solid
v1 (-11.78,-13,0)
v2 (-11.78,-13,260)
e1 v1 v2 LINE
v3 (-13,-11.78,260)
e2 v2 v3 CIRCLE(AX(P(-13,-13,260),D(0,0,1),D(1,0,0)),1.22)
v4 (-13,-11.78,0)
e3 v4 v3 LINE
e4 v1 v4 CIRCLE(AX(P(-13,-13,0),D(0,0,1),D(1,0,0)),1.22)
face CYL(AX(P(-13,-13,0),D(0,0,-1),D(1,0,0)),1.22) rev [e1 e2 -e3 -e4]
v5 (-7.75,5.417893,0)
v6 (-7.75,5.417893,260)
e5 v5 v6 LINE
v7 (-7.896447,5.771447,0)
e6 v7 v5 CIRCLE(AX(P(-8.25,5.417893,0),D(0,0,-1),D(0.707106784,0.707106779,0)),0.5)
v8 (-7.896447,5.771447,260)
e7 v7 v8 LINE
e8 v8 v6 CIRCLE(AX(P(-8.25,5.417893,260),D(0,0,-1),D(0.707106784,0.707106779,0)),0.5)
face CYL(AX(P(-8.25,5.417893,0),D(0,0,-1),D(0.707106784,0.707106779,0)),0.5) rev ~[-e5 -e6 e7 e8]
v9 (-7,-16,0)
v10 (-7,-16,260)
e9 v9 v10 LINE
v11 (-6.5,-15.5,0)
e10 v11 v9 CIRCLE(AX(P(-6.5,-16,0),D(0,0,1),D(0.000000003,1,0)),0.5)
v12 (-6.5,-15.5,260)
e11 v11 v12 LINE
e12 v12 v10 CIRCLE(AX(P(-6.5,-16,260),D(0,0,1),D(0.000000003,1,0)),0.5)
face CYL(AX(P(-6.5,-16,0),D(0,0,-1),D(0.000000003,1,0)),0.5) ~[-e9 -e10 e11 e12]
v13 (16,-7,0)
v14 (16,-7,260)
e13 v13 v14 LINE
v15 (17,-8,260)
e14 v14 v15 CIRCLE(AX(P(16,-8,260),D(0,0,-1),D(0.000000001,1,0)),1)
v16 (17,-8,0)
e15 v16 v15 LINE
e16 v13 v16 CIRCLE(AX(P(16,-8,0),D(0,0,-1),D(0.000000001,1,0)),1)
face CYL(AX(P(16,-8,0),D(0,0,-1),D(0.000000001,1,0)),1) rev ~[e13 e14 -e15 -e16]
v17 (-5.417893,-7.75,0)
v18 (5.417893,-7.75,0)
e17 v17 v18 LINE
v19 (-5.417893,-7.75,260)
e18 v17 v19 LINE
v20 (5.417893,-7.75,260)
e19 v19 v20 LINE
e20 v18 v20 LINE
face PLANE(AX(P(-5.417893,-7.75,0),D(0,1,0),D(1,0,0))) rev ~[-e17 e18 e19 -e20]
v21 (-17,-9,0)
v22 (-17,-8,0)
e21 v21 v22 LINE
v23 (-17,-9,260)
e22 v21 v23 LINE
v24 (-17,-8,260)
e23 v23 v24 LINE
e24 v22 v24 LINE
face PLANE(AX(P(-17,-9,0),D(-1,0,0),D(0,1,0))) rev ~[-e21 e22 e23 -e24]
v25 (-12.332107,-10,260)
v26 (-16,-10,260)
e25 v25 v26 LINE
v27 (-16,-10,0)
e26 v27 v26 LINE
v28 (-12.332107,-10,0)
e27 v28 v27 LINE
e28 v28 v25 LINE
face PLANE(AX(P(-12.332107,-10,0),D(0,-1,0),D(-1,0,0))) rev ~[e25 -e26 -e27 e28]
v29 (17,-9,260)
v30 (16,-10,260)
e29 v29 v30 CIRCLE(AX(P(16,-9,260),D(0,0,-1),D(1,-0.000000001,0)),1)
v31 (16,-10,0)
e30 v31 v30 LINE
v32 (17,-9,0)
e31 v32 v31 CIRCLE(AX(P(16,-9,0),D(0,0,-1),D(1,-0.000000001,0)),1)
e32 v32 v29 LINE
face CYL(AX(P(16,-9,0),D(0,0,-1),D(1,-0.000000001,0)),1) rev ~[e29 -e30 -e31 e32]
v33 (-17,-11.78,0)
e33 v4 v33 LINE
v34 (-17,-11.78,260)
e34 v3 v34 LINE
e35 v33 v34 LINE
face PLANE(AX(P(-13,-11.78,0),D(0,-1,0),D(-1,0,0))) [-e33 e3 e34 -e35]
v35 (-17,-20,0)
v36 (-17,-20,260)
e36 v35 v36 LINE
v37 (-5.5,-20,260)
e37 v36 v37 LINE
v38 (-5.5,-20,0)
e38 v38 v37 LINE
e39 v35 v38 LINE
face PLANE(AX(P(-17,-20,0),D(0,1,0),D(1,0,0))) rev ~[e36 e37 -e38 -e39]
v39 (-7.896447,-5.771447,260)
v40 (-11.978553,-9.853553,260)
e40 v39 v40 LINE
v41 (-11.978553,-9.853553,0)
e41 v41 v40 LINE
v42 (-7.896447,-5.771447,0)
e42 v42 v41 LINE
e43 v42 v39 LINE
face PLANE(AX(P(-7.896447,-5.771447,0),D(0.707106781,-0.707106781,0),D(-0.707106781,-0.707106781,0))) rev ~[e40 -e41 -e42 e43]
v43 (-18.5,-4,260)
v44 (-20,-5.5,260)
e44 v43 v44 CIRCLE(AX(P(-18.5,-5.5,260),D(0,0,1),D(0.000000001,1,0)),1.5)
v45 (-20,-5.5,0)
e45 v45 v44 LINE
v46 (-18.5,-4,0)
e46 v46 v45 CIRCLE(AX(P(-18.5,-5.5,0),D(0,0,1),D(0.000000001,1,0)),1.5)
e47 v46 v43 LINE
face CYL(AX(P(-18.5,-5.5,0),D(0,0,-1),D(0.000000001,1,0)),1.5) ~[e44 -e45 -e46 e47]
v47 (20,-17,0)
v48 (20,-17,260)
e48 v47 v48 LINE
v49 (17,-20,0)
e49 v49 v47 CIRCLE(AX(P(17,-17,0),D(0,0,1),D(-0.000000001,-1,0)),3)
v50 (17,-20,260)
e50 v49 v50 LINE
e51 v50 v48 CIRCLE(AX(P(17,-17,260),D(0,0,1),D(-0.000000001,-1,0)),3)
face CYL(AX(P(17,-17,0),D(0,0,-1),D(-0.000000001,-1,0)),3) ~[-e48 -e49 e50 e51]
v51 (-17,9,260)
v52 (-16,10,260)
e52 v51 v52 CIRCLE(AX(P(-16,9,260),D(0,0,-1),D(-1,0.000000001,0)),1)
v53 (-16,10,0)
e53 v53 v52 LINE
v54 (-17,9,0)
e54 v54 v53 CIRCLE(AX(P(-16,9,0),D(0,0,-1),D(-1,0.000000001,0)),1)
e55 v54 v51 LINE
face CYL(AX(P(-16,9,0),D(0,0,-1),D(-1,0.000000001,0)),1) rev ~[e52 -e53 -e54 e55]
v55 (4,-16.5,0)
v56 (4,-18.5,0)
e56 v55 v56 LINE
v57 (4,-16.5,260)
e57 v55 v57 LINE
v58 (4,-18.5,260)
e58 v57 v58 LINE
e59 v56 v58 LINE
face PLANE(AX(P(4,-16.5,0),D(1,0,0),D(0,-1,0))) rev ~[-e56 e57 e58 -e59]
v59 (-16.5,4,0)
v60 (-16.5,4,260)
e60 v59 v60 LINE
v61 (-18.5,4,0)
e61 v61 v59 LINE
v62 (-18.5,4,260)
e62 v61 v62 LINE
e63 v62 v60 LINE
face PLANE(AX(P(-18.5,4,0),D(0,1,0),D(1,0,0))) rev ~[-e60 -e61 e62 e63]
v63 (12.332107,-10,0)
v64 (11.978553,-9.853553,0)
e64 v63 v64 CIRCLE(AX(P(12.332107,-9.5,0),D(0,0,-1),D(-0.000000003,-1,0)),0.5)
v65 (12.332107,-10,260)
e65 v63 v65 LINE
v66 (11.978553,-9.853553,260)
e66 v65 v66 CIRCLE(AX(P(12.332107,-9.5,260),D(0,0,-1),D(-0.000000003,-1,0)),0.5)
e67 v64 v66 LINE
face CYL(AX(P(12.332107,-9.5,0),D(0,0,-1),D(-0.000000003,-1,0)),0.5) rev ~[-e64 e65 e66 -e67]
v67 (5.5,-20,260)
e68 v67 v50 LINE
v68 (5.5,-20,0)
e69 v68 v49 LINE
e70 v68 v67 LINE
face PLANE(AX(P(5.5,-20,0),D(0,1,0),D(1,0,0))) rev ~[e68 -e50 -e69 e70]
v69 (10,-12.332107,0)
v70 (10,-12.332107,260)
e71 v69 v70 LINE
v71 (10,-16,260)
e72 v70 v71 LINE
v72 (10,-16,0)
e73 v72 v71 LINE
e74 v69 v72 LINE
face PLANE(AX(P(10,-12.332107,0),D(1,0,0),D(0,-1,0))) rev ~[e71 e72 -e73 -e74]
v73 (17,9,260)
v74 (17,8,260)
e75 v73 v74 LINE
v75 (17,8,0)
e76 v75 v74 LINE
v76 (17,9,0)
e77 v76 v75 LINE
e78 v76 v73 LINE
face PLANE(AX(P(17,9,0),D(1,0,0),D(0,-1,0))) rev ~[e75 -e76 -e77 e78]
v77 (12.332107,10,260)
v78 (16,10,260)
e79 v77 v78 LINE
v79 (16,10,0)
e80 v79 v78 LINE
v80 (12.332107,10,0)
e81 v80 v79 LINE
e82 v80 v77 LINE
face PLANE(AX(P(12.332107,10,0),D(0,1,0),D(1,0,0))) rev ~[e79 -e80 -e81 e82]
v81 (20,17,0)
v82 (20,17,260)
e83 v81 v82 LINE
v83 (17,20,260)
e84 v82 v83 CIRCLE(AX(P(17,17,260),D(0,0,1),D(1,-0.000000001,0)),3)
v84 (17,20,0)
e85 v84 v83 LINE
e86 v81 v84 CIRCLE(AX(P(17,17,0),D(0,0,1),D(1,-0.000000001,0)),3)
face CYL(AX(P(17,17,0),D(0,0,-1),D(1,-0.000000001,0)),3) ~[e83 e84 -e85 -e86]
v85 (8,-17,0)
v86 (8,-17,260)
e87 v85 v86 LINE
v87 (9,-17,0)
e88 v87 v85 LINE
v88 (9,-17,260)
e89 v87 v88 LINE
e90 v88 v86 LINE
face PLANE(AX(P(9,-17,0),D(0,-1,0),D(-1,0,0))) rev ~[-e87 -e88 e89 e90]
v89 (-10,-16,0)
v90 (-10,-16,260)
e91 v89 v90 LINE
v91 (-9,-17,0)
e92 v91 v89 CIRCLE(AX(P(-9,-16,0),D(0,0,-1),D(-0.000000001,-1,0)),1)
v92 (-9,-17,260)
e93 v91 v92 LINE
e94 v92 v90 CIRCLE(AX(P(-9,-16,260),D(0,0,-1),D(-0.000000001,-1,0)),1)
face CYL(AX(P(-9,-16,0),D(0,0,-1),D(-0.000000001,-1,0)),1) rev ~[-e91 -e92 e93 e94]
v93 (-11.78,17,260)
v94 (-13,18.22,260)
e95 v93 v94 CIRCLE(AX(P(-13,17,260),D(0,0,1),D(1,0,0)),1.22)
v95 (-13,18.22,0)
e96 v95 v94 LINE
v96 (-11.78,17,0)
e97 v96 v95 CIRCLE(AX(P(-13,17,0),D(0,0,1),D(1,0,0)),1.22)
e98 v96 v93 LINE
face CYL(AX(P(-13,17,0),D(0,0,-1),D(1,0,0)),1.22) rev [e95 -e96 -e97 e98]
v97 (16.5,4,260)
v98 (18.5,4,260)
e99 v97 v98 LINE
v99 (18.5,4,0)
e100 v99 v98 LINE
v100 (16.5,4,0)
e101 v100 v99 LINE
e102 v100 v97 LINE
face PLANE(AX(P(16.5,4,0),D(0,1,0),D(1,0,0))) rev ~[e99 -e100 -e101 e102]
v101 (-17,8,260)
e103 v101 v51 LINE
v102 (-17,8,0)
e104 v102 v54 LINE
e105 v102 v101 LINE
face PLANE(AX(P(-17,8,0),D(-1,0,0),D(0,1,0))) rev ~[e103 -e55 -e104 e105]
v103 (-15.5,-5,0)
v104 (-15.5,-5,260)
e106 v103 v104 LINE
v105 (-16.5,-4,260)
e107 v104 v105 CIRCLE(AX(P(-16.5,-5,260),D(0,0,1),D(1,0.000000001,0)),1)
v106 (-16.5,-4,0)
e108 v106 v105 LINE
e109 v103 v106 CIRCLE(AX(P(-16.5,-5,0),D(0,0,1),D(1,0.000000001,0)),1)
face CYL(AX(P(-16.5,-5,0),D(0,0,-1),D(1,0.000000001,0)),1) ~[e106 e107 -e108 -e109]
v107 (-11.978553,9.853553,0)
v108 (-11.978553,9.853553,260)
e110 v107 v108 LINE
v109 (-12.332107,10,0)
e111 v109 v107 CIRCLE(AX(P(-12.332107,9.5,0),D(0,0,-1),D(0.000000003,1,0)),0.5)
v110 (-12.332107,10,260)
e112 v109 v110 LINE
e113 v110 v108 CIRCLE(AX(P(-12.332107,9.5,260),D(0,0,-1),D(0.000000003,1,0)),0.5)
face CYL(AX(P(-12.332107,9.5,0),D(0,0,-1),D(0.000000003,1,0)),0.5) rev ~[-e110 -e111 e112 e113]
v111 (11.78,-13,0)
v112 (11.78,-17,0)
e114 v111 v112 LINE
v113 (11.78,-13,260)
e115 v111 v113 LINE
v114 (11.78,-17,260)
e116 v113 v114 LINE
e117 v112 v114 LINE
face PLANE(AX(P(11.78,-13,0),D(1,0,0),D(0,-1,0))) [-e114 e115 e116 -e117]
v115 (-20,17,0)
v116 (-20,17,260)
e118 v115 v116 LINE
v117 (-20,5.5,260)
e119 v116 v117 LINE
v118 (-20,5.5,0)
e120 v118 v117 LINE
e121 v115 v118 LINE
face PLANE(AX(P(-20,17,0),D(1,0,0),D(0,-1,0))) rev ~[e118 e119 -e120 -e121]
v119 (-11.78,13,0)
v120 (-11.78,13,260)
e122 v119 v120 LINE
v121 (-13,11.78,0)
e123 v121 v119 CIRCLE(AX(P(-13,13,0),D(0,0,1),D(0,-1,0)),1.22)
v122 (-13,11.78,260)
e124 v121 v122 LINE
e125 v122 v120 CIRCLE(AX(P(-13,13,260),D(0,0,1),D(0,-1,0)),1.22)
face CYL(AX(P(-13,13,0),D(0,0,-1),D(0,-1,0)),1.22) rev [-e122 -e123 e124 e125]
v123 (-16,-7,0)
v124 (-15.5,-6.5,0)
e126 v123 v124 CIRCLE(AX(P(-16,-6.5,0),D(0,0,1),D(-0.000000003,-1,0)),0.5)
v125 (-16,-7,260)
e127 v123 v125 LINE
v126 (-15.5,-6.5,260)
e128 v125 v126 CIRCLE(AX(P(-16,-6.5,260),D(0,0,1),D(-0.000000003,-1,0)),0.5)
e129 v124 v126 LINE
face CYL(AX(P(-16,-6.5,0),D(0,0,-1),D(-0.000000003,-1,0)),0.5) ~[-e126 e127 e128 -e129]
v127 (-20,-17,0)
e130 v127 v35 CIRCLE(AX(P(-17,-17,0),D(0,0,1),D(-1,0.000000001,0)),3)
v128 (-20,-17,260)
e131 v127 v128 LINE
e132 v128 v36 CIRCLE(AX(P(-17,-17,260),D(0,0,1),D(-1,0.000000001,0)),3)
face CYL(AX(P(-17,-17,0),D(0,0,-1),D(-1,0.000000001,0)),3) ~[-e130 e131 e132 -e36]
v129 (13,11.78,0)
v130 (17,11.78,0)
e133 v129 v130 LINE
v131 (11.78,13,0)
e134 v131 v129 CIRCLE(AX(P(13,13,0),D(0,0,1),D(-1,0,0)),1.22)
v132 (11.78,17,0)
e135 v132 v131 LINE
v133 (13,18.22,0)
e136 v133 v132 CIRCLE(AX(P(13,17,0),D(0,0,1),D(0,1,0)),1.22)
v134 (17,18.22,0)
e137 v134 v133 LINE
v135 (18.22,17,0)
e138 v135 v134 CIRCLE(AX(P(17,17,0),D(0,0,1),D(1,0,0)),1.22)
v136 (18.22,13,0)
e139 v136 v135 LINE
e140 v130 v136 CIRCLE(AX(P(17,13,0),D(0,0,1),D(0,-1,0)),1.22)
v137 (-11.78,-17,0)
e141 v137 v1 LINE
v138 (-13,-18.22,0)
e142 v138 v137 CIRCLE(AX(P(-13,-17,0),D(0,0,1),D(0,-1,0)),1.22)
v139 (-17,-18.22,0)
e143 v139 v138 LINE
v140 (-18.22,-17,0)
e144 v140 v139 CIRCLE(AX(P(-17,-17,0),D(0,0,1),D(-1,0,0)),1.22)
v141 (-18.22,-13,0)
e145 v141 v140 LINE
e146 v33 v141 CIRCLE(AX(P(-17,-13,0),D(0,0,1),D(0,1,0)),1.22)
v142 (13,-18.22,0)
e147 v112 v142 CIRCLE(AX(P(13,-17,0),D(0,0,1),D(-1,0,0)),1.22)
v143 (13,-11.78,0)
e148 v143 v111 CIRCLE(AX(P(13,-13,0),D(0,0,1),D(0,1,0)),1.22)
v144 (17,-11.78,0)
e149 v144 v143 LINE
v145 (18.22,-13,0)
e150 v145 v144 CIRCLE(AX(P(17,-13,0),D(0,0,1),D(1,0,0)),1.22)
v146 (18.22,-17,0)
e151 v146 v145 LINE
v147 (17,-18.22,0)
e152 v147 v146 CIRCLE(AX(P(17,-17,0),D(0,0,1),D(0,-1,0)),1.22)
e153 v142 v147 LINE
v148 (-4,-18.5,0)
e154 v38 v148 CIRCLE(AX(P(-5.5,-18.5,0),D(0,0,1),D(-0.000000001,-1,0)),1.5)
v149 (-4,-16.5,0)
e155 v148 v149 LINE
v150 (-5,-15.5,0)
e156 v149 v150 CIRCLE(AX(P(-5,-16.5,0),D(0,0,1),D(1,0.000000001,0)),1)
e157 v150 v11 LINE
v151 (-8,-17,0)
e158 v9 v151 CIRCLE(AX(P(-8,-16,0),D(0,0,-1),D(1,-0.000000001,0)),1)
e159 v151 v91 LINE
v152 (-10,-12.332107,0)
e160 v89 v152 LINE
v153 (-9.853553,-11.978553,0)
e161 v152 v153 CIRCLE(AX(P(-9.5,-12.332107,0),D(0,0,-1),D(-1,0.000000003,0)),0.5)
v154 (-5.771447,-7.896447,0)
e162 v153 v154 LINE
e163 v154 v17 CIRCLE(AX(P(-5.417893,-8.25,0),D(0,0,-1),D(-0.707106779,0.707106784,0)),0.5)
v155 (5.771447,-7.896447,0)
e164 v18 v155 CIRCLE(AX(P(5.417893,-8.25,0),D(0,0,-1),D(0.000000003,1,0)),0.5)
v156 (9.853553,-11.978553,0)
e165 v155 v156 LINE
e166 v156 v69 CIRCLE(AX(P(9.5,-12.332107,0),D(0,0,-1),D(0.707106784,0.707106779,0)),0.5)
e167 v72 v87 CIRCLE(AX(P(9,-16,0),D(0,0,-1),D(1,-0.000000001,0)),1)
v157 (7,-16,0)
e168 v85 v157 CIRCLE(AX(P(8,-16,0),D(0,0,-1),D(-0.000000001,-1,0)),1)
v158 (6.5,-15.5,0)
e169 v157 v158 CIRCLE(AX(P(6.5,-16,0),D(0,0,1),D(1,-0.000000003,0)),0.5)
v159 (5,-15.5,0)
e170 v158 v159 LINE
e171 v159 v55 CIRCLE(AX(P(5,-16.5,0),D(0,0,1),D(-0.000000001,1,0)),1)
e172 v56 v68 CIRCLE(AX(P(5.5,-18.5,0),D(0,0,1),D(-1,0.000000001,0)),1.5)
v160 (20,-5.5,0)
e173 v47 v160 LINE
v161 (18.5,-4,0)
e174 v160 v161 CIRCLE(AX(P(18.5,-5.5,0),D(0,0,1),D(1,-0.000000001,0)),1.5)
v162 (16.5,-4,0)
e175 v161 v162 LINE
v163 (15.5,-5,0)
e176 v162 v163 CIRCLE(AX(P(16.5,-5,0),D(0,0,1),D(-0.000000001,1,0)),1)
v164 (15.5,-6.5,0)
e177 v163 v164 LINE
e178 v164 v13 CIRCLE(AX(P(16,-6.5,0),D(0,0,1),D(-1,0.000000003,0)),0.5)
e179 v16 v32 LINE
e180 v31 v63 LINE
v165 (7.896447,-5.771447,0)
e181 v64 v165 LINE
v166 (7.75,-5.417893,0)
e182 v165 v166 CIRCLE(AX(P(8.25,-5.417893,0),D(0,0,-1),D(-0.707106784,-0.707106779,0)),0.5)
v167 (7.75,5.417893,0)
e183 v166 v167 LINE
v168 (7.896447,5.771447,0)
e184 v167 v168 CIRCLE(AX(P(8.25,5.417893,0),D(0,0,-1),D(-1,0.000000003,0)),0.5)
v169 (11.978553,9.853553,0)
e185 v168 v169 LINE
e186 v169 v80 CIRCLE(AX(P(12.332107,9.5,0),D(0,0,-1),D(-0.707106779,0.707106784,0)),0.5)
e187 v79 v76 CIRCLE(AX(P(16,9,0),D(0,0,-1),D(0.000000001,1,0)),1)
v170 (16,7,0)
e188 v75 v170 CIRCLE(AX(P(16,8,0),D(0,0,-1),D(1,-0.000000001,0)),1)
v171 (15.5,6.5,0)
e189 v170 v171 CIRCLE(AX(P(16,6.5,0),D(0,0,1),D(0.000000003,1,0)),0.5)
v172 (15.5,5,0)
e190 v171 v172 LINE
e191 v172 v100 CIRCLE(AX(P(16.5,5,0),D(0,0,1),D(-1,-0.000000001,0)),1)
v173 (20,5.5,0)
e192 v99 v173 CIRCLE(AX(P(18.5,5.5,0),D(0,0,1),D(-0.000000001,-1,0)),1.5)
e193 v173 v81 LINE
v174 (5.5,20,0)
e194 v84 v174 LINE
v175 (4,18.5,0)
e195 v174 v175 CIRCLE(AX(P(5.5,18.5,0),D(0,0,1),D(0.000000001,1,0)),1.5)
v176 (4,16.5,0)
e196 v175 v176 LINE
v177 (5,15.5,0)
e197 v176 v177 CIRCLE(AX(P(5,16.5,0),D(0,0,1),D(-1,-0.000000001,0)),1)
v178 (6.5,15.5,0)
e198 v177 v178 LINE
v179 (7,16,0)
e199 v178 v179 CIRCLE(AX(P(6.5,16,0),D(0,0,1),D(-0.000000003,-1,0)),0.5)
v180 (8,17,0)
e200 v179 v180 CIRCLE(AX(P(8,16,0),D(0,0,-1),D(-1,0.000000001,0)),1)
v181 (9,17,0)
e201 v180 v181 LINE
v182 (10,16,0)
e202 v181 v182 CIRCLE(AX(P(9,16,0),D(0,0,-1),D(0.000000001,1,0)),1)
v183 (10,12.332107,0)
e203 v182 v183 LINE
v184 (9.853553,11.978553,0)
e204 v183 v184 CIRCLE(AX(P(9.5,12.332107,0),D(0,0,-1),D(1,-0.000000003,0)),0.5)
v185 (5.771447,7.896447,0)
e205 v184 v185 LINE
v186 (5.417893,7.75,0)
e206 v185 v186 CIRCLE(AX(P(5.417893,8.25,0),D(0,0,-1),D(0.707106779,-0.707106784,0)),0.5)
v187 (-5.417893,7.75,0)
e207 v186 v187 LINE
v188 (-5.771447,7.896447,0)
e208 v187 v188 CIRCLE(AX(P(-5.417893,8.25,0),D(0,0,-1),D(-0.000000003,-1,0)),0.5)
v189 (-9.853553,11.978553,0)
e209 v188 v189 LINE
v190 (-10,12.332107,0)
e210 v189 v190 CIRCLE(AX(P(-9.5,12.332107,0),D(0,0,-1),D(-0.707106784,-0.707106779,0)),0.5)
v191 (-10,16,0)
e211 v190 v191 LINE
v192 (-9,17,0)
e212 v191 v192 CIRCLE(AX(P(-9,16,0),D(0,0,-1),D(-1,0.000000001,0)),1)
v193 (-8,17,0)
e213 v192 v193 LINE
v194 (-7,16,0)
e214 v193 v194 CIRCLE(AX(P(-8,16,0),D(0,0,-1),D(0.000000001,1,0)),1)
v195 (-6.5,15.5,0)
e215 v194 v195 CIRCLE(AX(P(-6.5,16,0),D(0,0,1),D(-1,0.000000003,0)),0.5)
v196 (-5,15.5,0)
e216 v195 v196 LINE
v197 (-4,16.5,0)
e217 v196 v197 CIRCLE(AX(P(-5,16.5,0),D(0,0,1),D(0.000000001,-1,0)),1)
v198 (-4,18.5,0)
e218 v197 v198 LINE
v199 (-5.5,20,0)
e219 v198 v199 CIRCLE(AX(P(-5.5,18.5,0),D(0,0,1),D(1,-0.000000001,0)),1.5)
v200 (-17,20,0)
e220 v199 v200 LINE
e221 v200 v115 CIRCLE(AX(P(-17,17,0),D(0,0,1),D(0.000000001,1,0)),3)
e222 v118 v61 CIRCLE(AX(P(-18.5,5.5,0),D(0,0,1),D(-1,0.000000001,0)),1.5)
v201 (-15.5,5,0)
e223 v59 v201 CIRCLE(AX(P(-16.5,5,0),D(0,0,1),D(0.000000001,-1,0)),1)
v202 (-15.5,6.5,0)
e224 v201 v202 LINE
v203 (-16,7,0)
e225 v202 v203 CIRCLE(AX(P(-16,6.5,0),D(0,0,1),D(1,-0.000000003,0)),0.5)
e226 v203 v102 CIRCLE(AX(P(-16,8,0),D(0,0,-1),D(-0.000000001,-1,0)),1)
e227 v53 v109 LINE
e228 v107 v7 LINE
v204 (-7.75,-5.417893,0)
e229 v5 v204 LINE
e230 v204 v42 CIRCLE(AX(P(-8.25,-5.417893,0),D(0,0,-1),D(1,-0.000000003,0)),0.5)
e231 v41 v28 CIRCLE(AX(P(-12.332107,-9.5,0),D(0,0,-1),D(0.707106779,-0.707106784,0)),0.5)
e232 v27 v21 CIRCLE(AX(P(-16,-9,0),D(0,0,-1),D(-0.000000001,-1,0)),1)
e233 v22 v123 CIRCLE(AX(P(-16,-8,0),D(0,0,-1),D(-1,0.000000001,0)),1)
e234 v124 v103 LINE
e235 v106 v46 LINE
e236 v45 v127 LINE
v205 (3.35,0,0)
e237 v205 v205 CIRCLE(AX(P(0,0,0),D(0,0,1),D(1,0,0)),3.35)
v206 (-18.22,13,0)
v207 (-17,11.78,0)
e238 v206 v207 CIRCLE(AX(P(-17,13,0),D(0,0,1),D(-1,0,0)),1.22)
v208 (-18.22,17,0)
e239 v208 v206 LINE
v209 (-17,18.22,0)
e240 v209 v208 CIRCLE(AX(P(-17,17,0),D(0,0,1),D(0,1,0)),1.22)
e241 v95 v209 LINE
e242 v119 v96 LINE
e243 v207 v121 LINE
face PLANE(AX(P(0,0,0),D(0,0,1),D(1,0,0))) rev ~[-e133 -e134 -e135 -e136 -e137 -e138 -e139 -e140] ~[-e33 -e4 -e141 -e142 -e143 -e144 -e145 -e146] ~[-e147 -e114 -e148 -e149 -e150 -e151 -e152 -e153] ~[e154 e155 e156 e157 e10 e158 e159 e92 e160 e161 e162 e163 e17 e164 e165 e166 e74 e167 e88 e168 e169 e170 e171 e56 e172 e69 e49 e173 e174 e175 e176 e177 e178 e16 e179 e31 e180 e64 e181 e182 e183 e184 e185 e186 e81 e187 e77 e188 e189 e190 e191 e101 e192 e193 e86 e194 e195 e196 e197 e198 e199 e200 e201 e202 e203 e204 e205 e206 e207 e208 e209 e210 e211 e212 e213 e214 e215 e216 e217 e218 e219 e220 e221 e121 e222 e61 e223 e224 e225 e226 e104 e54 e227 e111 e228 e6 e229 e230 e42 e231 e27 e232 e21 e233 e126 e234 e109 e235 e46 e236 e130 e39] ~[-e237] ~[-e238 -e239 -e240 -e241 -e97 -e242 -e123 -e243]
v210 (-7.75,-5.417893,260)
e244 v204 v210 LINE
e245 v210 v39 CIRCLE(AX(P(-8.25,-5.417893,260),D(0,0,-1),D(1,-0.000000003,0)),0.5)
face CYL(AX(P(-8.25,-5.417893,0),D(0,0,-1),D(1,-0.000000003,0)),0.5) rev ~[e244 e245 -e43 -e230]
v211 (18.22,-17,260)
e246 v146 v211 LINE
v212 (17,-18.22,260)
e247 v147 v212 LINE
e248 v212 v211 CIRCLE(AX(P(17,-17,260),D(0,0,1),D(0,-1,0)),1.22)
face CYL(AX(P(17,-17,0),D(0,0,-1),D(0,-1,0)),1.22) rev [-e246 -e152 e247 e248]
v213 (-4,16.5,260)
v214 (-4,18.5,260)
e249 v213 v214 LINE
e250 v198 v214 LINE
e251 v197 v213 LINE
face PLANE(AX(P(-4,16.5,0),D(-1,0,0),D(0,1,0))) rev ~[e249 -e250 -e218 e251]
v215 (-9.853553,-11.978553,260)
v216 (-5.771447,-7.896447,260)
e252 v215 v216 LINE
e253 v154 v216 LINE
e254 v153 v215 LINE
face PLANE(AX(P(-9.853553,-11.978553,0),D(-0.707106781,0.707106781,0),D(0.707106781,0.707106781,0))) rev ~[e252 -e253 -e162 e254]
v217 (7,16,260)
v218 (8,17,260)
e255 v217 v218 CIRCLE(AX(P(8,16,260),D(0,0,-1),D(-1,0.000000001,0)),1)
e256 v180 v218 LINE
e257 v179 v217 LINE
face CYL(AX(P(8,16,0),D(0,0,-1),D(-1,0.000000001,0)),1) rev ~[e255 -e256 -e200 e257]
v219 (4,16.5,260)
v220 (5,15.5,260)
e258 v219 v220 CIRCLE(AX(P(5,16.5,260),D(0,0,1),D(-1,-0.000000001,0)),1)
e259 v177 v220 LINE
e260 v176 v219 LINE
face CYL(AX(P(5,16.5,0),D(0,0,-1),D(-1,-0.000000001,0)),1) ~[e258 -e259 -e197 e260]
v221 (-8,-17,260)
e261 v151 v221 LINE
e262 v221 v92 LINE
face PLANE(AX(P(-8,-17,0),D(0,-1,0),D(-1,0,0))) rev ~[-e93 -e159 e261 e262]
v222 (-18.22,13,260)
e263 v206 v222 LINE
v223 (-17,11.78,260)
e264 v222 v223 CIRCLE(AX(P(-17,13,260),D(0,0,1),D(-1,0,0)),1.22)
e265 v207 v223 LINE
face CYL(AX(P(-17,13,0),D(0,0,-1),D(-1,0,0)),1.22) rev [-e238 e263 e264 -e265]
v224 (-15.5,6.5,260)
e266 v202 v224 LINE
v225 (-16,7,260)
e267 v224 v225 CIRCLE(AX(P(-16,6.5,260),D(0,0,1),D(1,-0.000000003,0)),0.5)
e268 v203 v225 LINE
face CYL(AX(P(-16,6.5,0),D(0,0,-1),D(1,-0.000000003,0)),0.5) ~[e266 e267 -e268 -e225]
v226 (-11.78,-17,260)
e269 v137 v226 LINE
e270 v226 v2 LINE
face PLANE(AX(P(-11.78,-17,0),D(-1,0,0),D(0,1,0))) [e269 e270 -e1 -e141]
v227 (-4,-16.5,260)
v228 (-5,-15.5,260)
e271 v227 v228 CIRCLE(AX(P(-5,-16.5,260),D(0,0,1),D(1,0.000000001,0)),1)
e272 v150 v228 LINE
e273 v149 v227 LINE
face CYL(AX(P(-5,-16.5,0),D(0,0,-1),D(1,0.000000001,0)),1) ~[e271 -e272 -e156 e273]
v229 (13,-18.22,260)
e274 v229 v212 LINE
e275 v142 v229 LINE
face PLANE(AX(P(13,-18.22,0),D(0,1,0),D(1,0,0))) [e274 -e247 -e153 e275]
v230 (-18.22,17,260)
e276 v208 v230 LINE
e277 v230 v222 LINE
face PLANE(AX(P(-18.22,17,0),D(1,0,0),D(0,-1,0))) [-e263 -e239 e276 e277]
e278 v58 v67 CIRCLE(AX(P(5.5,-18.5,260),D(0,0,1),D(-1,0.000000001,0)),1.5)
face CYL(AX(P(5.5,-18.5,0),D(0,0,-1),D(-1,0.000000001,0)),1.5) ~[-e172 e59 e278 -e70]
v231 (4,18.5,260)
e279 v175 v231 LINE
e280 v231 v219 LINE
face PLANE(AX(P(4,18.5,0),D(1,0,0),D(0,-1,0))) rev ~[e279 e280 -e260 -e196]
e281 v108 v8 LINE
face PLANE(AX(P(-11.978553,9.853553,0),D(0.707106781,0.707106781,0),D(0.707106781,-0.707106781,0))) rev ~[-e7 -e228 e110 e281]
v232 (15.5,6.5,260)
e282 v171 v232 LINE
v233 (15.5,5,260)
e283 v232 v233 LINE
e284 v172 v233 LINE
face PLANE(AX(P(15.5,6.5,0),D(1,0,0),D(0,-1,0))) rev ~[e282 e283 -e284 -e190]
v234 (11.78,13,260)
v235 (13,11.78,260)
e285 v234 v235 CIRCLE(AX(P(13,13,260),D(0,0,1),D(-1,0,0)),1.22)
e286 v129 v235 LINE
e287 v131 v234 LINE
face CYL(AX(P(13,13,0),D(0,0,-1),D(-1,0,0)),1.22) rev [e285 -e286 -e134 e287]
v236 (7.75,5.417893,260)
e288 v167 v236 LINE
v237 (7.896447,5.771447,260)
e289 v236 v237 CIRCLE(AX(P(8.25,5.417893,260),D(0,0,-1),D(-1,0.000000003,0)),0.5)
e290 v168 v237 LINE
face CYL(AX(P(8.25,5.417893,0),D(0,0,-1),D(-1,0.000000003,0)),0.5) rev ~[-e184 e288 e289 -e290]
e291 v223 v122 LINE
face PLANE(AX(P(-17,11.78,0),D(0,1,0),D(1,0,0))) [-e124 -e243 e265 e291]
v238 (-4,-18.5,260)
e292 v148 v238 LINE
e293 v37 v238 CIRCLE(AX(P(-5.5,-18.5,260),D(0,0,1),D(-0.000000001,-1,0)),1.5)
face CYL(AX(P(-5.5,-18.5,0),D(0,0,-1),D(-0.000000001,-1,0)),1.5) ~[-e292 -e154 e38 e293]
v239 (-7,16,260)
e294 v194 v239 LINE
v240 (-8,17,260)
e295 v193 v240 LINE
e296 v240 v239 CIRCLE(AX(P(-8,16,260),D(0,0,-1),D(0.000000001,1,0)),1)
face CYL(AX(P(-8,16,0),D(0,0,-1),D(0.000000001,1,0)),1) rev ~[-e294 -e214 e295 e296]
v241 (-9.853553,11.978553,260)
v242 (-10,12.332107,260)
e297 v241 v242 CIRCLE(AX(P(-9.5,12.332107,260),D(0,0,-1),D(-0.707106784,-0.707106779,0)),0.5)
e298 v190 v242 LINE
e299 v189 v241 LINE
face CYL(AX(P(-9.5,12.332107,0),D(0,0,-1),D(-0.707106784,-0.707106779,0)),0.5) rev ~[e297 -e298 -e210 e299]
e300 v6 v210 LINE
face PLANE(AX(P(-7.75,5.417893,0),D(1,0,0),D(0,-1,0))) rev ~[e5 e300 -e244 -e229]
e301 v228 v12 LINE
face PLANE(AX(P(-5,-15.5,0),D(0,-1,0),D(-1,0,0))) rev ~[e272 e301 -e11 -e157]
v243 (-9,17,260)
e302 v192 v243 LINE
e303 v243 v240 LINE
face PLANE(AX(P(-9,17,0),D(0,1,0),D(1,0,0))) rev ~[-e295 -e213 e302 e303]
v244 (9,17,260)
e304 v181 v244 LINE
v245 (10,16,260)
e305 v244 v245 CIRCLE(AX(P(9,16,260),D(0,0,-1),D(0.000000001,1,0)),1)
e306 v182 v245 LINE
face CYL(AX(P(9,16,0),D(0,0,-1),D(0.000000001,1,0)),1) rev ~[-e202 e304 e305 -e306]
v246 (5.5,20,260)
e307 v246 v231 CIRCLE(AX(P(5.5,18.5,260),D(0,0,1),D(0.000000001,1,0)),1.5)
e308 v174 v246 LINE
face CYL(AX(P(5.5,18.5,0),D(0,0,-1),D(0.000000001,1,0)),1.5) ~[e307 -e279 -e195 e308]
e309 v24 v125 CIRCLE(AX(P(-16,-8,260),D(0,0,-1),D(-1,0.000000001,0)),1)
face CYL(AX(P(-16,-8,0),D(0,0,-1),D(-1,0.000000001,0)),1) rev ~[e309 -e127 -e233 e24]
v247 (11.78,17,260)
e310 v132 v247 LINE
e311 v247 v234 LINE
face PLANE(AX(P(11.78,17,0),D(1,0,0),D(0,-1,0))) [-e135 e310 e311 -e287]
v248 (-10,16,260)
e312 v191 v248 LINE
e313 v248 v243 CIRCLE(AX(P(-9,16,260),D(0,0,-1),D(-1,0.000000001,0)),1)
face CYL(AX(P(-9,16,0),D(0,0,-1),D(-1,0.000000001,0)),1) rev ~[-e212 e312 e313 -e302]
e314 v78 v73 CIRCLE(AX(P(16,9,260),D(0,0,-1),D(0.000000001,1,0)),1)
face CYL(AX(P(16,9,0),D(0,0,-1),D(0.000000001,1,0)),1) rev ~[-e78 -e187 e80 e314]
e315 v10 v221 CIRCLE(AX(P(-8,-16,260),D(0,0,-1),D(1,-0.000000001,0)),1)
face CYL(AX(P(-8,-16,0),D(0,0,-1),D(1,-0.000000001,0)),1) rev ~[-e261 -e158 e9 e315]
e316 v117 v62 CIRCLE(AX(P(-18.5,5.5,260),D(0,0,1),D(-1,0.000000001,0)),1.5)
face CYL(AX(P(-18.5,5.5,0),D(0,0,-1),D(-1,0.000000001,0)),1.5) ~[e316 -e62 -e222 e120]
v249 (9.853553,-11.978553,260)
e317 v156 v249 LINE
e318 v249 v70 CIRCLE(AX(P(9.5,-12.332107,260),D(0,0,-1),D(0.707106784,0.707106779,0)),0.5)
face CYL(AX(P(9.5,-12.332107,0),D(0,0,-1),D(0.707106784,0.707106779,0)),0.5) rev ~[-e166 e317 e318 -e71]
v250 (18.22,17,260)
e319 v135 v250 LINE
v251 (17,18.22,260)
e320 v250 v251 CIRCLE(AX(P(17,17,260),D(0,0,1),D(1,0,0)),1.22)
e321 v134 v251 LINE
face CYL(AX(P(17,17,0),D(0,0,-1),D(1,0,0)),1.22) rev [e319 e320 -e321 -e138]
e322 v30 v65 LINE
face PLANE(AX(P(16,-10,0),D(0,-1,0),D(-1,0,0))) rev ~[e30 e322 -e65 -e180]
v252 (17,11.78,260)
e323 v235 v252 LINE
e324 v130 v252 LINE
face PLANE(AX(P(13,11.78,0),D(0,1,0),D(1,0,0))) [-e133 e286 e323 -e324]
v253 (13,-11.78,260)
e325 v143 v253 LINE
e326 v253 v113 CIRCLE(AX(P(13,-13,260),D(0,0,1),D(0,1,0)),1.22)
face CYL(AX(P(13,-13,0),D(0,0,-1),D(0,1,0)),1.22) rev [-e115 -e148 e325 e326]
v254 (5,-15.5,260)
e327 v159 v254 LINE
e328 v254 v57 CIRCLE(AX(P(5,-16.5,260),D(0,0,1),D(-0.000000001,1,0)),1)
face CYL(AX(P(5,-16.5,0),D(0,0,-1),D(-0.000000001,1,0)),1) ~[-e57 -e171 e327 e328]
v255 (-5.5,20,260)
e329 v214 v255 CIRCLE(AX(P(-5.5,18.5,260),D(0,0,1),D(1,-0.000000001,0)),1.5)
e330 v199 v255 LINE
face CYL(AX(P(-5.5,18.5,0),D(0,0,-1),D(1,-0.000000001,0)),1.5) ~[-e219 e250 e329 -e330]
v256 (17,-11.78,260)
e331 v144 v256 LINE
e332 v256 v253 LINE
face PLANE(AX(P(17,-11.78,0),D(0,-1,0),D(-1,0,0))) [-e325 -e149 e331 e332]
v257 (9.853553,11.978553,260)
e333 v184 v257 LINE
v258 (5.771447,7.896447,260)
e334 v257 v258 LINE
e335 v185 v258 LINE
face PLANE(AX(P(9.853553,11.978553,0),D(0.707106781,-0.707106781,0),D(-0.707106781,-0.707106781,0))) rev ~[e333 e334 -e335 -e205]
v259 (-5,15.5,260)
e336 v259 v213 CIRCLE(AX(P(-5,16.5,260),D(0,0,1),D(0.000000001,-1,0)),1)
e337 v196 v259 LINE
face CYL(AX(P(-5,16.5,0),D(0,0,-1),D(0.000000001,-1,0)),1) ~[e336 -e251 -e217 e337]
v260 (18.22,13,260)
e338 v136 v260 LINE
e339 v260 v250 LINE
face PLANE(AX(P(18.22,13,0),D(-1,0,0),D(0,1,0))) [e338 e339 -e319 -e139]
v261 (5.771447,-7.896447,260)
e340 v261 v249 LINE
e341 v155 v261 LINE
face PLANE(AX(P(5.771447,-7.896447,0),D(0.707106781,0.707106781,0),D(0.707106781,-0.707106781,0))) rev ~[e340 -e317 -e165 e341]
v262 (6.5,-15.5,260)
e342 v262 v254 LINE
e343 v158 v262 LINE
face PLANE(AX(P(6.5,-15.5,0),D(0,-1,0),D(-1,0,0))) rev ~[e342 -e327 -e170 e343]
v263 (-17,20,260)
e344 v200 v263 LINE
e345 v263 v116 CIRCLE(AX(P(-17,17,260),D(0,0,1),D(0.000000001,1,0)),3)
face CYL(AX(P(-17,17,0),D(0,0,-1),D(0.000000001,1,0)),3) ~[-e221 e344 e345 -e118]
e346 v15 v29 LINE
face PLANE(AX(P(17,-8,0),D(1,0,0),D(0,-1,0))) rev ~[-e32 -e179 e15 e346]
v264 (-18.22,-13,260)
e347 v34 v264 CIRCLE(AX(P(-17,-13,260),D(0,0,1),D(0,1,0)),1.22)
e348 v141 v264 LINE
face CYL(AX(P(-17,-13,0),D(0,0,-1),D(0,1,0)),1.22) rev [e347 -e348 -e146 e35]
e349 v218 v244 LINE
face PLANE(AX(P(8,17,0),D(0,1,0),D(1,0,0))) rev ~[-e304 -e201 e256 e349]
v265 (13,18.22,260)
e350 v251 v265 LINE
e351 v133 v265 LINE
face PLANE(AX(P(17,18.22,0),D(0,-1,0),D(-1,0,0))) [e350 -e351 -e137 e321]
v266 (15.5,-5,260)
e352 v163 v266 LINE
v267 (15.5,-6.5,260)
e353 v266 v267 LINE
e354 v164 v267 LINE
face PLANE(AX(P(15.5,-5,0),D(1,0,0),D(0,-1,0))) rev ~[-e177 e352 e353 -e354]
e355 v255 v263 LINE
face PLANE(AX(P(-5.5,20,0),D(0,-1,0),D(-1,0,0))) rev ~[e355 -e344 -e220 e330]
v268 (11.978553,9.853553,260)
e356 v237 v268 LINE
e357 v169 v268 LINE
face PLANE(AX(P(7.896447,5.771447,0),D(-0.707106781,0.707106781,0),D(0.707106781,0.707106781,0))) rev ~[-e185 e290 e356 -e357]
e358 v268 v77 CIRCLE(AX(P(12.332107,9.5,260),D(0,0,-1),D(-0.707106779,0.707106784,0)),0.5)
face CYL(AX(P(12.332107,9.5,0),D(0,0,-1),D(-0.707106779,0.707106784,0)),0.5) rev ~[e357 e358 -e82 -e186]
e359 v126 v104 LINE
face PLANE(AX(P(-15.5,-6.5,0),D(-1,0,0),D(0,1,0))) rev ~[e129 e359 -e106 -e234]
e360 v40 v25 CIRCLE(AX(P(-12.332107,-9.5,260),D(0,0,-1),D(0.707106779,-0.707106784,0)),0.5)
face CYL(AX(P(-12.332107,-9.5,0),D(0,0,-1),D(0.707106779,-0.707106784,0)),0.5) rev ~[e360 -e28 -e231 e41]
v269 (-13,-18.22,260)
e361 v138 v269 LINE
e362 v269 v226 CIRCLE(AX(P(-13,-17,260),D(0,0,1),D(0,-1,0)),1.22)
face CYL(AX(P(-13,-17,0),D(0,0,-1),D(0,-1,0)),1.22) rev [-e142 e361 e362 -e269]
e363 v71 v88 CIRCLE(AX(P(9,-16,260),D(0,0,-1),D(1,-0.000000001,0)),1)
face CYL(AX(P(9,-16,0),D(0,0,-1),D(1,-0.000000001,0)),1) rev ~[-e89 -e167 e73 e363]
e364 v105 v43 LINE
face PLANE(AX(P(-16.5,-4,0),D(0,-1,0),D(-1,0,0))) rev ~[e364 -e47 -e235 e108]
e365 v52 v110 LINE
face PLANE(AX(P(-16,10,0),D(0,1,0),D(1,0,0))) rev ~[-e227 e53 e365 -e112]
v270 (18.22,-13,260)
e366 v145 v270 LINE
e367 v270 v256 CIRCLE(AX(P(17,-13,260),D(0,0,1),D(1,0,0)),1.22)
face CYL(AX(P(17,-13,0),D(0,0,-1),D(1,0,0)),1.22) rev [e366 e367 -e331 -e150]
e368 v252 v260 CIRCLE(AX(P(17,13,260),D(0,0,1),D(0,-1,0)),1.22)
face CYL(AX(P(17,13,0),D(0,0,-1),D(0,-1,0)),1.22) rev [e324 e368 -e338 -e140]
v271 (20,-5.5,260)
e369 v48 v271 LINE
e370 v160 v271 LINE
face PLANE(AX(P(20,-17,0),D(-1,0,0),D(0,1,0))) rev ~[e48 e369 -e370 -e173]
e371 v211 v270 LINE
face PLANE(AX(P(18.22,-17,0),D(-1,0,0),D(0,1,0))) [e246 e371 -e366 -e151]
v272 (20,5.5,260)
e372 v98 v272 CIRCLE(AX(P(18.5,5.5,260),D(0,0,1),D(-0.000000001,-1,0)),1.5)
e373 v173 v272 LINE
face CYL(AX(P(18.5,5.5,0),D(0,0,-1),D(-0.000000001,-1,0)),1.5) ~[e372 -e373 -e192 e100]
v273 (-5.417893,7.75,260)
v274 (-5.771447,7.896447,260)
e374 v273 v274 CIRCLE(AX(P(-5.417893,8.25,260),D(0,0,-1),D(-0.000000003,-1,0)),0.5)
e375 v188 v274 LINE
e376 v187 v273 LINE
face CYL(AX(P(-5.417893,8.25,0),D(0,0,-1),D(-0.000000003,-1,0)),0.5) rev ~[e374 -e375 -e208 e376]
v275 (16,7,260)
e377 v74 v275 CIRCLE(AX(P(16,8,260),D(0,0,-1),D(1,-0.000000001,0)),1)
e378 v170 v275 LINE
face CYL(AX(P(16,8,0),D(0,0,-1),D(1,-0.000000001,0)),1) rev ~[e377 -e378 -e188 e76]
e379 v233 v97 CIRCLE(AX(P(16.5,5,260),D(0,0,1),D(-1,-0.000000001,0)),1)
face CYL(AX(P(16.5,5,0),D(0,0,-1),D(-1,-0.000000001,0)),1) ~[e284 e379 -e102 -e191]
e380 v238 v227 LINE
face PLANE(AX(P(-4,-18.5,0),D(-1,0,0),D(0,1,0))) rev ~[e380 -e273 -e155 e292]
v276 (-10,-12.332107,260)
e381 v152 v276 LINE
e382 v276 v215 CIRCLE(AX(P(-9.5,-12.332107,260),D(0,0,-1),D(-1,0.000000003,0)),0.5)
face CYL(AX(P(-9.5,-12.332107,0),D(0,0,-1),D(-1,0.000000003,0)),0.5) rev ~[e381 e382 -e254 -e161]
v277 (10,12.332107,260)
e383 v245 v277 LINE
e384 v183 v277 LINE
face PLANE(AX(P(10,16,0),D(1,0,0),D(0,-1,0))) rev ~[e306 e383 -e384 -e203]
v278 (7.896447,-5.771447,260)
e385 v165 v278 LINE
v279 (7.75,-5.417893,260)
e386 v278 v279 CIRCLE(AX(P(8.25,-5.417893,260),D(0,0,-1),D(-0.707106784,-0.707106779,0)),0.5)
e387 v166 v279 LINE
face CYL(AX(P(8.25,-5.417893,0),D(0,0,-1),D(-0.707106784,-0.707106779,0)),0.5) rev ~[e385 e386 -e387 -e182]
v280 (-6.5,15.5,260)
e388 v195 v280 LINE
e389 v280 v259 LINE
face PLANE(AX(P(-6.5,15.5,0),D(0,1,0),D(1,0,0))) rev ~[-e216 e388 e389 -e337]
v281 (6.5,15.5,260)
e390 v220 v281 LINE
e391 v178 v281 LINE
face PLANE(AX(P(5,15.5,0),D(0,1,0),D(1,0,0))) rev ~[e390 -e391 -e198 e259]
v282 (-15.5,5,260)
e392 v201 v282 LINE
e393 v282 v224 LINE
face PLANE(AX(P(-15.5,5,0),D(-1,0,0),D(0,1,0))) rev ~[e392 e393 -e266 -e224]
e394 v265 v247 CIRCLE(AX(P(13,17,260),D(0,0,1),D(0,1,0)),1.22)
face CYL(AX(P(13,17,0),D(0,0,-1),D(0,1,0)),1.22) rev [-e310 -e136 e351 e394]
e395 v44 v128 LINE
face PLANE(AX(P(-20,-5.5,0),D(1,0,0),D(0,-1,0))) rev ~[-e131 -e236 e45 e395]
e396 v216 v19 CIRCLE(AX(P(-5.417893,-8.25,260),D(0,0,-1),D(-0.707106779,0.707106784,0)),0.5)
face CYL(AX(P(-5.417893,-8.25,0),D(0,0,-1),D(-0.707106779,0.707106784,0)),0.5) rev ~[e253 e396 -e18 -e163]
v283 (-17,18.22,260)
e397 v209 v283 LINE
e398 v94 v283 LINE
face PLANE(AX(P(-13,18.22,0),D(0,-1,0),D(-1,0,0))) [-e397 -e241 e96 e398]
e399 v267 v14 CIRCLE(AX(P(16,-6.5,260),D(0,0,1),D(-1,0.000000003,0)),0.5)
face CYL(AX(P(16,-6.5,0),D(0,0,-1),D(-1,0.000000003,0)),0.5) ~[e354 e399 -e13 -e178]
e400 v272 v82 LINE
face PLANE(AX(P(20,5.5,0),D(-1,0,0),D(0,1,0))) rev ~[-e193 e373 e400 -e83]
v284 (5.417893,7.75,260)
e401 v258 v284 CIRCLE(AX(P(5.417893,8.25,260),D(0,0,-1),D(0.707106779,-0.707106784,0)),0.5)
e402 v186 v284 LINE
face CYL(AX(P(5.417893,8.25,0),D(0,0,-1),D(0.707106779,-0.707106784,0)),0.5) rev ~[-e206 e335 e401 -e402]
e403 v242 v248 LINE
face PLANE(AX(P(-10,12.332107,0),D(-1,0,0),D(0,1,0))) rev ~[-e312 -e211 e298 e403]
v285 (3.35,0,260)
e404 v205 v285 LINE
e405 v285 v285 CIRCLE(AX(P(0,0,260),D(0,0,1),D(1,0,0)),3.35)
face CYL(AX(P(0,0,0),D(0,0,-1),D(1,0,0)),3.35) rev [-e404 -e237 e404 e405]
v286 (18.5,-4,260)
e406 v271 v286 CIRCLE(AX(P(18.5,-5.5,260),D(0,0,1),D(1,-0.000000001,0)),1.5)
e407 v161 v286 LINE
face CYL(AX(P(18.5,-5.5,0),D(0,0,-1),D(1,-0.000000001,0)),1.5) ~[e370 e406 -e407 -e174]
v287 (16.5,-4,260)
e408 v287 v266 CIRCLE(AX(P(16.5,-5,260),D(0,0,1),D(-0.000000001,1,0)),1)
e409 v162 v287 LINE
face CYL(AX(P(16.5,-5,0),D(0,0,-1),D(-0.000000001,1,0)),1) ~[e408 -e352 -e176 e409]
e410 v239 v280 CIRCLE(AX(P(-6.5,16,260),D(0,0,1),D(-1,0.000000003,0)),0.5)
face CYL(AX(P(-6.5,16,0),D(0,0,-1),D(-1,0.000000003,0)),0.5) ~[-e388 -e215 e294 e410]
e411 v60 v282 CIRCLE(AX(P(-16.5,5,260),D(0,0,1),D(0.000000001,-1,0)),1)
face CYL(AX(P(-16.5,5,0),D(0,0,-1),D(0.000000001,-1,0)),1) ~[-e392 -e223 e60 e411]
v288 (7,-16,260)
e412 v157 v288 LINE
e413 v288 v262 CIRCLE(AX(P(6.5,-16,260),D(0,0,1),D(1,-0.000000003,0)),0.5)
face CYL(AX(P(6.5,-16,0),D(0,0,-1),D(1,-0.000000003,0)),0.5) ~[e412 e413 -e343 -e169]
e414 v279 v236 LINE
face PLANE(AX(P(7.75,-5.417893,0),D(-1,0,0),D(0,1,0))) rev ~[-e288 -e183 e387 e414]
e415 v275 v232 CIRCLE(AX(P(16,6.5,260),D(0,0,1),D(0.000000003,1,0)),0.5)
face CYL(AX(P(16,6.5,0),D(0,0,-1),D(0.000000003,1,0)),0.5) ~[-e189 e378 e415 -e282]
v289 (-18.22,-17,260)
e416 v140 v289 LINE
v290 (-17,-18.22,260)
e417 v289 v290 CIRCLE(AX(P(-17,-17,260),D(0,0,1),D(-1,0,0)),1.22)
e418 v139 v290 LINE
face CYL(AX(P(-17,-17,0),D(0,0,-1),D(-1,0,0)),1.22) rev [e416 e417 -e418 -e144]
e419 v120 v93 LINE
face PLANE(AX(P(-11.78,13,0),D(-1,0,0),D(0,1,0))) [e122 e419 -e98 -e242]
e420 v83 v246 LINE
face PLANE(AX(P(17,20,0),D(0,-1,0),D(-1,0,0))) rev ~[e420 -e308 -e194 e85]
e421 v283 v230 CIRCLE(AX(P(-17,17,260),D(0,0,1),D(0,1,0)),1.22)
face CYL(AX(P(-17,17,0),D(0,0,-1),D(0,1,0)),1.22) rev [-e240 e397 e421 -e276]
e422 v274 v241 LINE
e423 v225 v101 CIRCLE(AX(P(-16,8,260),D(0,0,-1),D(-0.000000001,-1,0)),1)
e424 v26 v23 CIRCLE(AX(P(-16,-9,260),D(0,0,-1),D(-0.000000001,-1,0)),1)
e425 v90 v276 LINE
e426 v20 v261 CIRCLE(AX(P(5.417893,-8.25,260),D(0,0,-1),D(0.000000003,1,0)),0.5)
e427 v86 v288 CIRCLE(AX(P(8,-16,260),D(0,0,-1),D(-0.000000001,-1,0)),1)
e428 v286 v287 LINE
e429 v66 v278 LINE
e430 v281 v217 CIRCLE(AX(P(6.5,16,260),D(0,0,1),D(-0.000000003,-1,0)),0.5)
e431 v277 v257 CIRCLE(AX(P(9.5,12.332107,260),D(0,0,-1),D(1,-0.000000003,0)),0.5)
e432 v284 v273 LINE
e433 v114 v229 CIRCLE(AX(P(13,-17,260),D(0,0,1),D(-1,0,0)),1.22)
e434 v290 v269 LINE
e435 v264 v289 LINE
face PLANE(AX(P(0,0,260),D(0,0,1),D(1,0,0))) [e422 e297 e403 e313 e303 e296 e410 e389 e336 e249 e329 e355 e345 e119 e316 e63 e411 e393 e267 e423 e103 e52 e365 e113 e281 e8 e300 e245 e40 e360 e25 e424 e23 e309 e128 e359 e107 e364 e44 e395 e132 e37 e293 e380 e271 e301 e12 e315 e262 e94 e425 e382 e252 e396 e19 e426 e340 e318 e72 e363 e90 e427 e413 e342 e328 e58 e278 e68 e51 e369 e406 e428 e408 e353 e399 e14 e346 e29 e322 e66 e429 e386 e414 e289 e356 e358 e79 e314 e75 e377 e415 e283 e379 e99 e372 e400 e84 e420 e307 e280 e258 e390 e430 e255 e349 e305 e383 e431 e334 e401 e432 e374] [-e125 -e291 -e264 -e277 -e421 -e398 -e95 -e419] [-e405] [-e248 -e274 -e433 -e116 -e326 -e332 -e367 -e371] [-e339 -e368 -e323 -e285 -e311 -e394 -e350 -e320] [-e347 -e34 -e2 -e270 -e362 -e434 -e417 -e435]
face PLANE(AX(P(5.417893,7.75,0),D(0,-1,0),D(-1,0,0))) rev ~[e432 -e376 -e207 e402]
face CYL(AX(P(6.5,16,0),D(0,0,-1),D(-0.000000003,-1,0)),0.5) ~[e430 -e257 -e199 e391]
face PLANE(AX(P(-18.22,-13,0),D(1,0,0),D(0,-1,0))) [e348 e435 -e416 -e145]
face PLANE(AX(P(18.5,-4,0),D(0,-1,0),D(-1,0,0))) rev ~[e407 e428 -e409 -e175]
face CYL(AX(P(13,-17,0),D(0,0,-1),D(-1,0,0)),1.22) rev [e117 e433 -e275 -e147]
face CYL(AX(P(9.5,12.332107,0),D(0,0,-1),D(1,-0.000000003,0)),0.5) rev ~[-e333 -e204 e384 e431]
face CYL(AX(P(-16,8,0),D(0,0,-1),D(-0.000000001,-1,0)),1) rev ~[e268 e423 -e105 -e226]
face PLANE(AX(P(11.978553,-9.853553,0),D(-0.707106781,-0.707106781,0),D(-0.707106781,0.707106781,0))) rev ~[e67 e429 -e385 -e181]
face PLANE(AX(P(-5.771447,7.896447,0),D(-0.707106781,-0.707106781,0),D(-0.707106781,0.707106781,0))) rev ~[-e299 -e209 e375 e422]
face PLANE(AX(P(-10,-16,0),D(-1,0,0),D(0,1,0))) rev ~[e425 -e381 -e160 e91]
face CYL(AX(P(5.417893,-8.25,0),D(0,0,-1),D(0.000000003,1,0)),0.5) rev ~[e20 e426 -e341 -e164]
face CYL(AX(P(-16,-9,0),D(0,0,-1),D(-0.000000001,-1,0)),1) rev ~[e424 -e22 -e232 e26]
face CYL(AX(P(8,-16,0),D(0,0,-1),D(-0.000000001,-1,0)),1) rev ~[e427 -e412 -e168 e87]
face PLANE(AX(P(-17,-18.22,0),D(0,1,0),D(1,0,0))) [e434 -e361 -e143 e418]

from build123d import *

# Parameters (mm, degrees)
SKETCH1_R           = 3.35
BOSS_EXTRUDE1_DEPTH = 260


with BuildPart() as part:
    # Sketch1 → Boss-Extrude1 (new body)
    with BuildSketch(Plane.XY):
        with BuildLine():
            Line((-9.853553391, -11.978553391), (-5.771446609, -7.896446609))
            ThreePointArc((-5.771446609, -7.896446609), (-5.609234935, -7.788060234), (-5.417893219, -7.75))
            Line((-5.417893219, -7.75), (5.417893219, -7.75))
            ThreePointArc((5.417893219, -7.75), (5.609234935, -7.788060234), (5.771446609, -7.896446609))
            Line((5.771446609, -7.896446609), (9.853553391, -11.978553391))
            ThreePointArc((9.853553391, -11.978553391), (9.961939766, -12.140765065), (10, -12.332106781))
            Line((10, -12.332106781), (10, -16))
            ThreePointArc((10, -16), (9.707106781, -16.707106781), (9, -17))
            Line((9, -17), (8, -17))
            ThreePointArc((8, -17), (7.292893219, -16.707106781), (7, -16))
            ThreePointArc((7, -16), (6.853553391, -15.646446609), (6.5, -15.5))
            Line((6.5, -15.5), (5, -15.5))
            ThreePointArc((5, -15.5), (4.292893219, -15.792893219), (4, -16.5))
            Line((4, -16.5), (4, -18.5))
            ThreePointArc((4, -18.5), (4.439339828, -19.560660172), (5.5, -20))
            Line((5.5, -20), (17, -20))
            ThreePointArc((17, -20), (19.121320344, -19.121320344), (20, -17))
            Line((20, -17), (20, -5.5))
            ThreePointArc((20, -5.5), (19.560660172, -4.439339828), (18.5, -4))
            Line((18.5, -4), (16.5, -4))
            ThreePointArc((16.5, -4), (15.792893219, -4.292893219), (15.5, -5))
            Line((15.5, -5), (15.5, -6.5))
            ThreePointArc((15.5, -6.5), (15.646446609, -6.853553391), (16, -7))
            ThreePointArc((16, -7), (16.707106781, -7.292893219), (17, -8))
            Line((17, -8), (17, -9))
            ThreePointArc((17, -9), (16.707106781, -9.707106781), (16, -10))
            Line((16, -10), (12.332106781, -10))
            ThreePointArc((12.332106781, -10), (12.140765065, -9.961939766), (11.978553391, -9.853553391))
            Line((11.978553391, -9.853553391), (7.896446609, -5.771446609))
            ThreePointArc((7.896446609, -5.771446609), (7.788060234, -5.609234935), (7.75, -5.417893219))
            Line((7.75, -5.417893219), (7.75, 5.417893219))
            ThreePointArc((7.75, 5.417893219), (7.788060234, 5.609234935), (7.896446609, 5.771446609))
            Line((7.896446609, 5.771446609), (11.978553391, 9.853553391))
            ThreePointArc((11.978553391, 9.853553391), (12.140765065, 9.961939766), (12.332106781, 10))
            Line((12.332106781, 10), (16, 10))
            ThreePointArc((16, 10), (16.707106781, 9.707106781), (17, 9))
            Line((17, 9), (17, 8))
            ThreePointArc((17, 8), (16.707106781, 7.292893219), (16, 7))
            ThreePointArc((16, 7), (15.646446609, 6.853553391), (15.5, 6.5))
            Line((15.5, 6.5), (15.5, 5))
            ThreePointArc((15.5, 5), (15.792893219, 4.292893219), (16.5, 4))
            Line((16.5, 4), (18.5, 4))
            ThreePointArc((18.5, 4), (19.560660172, 4.439339828), (20, 5.5))
            Line((20, 5.5), (20, 17))
            ThreePointArc((20, 17), (19.121320344, 19.121320344), (17, 20))
            Line((17, 20), (5.5, 20))
            ThreePointArc((5.5, 20), (4.439339828, 19.560660172), (4, 18.5))
            Line((4, 18.5), (4, 16.5))
            ThreePointArc((4, 16.5), (4.292893219, 15.792893219), (5, 15.5))
            Line((5, 15.5), (6.5, 15.5))
            ThreePointArc((6.5, 15.5), (6.853553391, 15.646446609), (7, 16))
            ThreePointArc((7, 16), (7.292893219, 16.707106781), (8, 17))
            Line((8, 17), (9, 17))
            ThreePointArc((9, 17), (9.707106781, 16.707106781), (10, 16))
            Line((10, 16), (10, 12.332106781))
            ThreePointArc((10, 12.332106781), (9.961939766, 12.140765065), (9.853553391, 11.978553391))
            Line((9.853553391, 11.978553391), (5.771446609, 7.896446609))
            ThreePointArc((5.771446609, 7.896446609), (5.609234935, 7.788060234), (5.417893219, 7.75))
            Line((5.417893219, 7.75), (-5.417893219, 7.75))
            ThreePointArc((-5.417893219, 7.75), (-5.609234935, 7.788060234), (-5.771446609, 7.896446609))
            Line((-5.771446609, 7.896446609), (-9.853553391, 11.978553391))
            ThreePointArc((-9.853553391, 11.978553391), (-9.961939766, 12.140765065), (-10, 12.332106781))
            Line((-10, 12.332106781), (-10, 16))
            ThreePointArc((-10, 16), (-9.707106781, 16.707106781), (-9, 17))
            Line((-9, 17), (-8, 17))
            ThreePointArc((-8, 17), (-7.292893219, 16.707106781), (-7, 16))
            ThreePointArc((-7, 16), (-6.853553391, 15.646446609), (-6.5, 15.5))
            Line((-6.5, 15.5), (-5, 15.5))
            ThreePointArc((-5, 15.5), (-4.292893219, 15.792893219), (-4, 16.5))
            Line((-4, 16.5), (-4, 18.5))
            ThreePointArc((-4, 18.5), (-4.439339828, 19.560660172), (-5.5, 20))
            Line((-5.5, 20), (-17, 20))
            ThreePointArc((-17, 20), (-19.121320344, 19.121320344), (-20, 17))
            Line((-20, 17), (-20, 5.5))
            ThreePointArc((-20, 5.5), (-19.560660172, 4.439339828), (-18.5, 4))
            Line((-18.5, 4), (-16.5, 4))
            ThreePointArc((-16.5, 4), (-15.792893219, 4.292893219), (-15.5, 5))
            Line((-15.5, 5), (-15.5, 6.5))
            ThreePointArc((-15.5, 6.5), (-15.646446609, 6.853553391), (-16, 7))
            ThreePointArc((-16, 7), (-16.707106781, 7.292893219), (-17, 8))
            Line((-17, 8), (-17, 9))
            ThreePointArc((-17, 9), (-16.707106781, 9.707106781), (-16, 10))
            Line((-16, 10), (-12.332106781, 10))
            ThreePointArc((-12.332106781, 10), (-12.140765065, 9.961939766), (-11.978553391, 9.853553391))
            Line((-11.978553391, 9.853553391), (-7.896446609, 5.771446609))
            ThreePointArc((-7.896446609, 5.771446609), (-7.788060234, 5.609234935), (-7.75, 5.417893219))
            Line((-7.75, 5.417893219), (-7.75, -5.417893219))
            ThreePointArc((-7.75, -5.417893219), (-7.788060234, -5.609234935), (-7.896446609, -5.771446609))
            Line((-7.896446609, -5.771446609), (-11.978553391, -9.853553391))
            ThreePointArc((-11.978553391, -9.853553391), (-12.140765065, -9.961939766), (-12.332106781, -10))
            Line((-12.332106781, -10), (-16, -10))
            ThreePointArc((-16, -10), (-16.707106781, -9.707106781), (-17, -9))
            Line((-17, -9), (-17, -8))
            ThreePointArc((-17, -8), (-16.707106781, -7.292893219), (-16, -7))
            ThreePointArc((-16, -7), (-15.646446609, -6.853553391), (-15.5, -6.5))
            Line((-15.5, -6.5), (-15.5, -5))
            ThreePointArc((-15.5, -5), (-15.792893219, -4.292893219), (-16.5, -4))
            Line((-16.5, -4), (-18.5, -4))
            ThreePointArc((-18.5, -4), (-19.560660172, -4.439339828), (-20, -5.5))
            Line((-20, -5.5), (-20, -17))
            ThreePointArc((-20, -17), (-19.121320344, -19.121320344), (-17, -20))
            Line((-17, -20), (-5.5, -20))
            ThreePointArc((-5.5, -20), (-4.439339828, -19.560660172), (-4, -18.5))
            Line((-4, -18.5), (-4, -16.5))
            ThreePointArc((-4, -16.5), (-4.292893219, -15.792893219), (-5, -15.5))
            Line((-5, -15.5), (-6.5, -15.5))
            ThreePointArc((-6.5, -15.5), (-6.853553391, -15.646446609), (-7, -16))
            ThreePointArc((-7, -16), (-7.292893219, -16.707106781), (-8, -17))
            Line((-8, -17), (-9, -17))
            ThreePointArc((-9, -17), (-9.707106781, -16.707106781), (-10, -16))
            Line((-10, -16), (-10, -12.332106781))
            ThreePointArc((-10, -12.332106781), (-9.961939766, -12.140765065), (-9.853553391, -11.978553391))
        make_face()
        Circle(SKETCH1_R, mode=Mode.SUBTRACT)
        with BuildLine():
            Line((-17, 11.78), (-13, 11.78))
            ThreePointArc((-13, 11.78), (-12.137329727, 12.137329727), (-11.78, 13))
            Line((-11.78, 13), (-11.78, 17))
            ThreePointArc((-11.78, 17), (-12.137329727, 17.862670273), (-13, 18.22))
            Line((-13, 18.22), (-17, 18.22))
            ThreePointArc((-17, 18.22), (-17.862670273, 17.862670273), (-18.22, 17))
            Line((-18.22, 17), (-18.22, 13))
            ThreePointArc((-18.22, 13), (-17.862670273, 12.137329727), (-17, 11.78))
        make_face(mode=Mode.SUBTRACT)
        with BuildLine():
            Line((-18.22, -13), (-18.22, -17))
            ThreePointArc((-18.22, -17), (-17.862670273, -17.862670273), (-17, -18.22))
            Line((-17, -18.22), (-13, -18.22))
            ThreePointArc((-13, -18.22), (-12.137329727, -17.862670273), (-11.78, -17))
            Line((-11.78, -17), (-11.78, -13))
            ThreePointArc((-11.78, -13), (-12.137329727, -12.137329727), (-13, -11.78))
            Line((-13, -11.78), (-17, -11.78))
            ThreePointArc((-17, -11.78), (-17.862670273, -12.137329727), (-18.22, -13))
        make_face(mode=Mode.SUBTRACT)
        with BuildLine():
            Line((13, -18.22), (17, -18.22))
            ThreePointArc((17, -18.22), (17.862670273, -17.862670273), (18.22, -17))
            Line((18.22, -17), (18.22, -13))
            ThreePointArc((18.22, -13), (17.862670273, -12.137329727), (17, -11.78))
            Line((17, -11.78), (13, -11.78))
            ThreePointArc((13, -11.78), (12.137329727, -12.137329727), (11.78, -13))
            Line((11.78, -13), (11.78, -17))
            ThreePointArc((11.78, -17), (12.137329727, -17.862670273), (13, -18.22))
        make_face(mode=Mode.SUBTRACT)
        with BuildLine():
            Line((18.22, 13), (18.22, 17))
            ThreePointArc((18.22, 17), (17.862670273, 17.862670273), (17, 18.22))
            Line((17, 18.22), (13, 18.22))
            ThreePointArc((13, 18.22), (12.137329727, 17.862670273), (11.78, 17))
            Line((11.78, 17), (11.78, 13))
            ThreePointArc((11.78, 13), (12.137329727, 12.137329727), (13, 11.78))
            Line((13, 11.78), (17, 11.78))
            ThreePointArc((17, 11.78), (17.862670273, 12.137329727), (18.22, 13))
        make_face(mode=Mode.SUBTRACT)
    extrude(amount=BOSS_EXTRUDE1_DEPTH)


solid = part.part
